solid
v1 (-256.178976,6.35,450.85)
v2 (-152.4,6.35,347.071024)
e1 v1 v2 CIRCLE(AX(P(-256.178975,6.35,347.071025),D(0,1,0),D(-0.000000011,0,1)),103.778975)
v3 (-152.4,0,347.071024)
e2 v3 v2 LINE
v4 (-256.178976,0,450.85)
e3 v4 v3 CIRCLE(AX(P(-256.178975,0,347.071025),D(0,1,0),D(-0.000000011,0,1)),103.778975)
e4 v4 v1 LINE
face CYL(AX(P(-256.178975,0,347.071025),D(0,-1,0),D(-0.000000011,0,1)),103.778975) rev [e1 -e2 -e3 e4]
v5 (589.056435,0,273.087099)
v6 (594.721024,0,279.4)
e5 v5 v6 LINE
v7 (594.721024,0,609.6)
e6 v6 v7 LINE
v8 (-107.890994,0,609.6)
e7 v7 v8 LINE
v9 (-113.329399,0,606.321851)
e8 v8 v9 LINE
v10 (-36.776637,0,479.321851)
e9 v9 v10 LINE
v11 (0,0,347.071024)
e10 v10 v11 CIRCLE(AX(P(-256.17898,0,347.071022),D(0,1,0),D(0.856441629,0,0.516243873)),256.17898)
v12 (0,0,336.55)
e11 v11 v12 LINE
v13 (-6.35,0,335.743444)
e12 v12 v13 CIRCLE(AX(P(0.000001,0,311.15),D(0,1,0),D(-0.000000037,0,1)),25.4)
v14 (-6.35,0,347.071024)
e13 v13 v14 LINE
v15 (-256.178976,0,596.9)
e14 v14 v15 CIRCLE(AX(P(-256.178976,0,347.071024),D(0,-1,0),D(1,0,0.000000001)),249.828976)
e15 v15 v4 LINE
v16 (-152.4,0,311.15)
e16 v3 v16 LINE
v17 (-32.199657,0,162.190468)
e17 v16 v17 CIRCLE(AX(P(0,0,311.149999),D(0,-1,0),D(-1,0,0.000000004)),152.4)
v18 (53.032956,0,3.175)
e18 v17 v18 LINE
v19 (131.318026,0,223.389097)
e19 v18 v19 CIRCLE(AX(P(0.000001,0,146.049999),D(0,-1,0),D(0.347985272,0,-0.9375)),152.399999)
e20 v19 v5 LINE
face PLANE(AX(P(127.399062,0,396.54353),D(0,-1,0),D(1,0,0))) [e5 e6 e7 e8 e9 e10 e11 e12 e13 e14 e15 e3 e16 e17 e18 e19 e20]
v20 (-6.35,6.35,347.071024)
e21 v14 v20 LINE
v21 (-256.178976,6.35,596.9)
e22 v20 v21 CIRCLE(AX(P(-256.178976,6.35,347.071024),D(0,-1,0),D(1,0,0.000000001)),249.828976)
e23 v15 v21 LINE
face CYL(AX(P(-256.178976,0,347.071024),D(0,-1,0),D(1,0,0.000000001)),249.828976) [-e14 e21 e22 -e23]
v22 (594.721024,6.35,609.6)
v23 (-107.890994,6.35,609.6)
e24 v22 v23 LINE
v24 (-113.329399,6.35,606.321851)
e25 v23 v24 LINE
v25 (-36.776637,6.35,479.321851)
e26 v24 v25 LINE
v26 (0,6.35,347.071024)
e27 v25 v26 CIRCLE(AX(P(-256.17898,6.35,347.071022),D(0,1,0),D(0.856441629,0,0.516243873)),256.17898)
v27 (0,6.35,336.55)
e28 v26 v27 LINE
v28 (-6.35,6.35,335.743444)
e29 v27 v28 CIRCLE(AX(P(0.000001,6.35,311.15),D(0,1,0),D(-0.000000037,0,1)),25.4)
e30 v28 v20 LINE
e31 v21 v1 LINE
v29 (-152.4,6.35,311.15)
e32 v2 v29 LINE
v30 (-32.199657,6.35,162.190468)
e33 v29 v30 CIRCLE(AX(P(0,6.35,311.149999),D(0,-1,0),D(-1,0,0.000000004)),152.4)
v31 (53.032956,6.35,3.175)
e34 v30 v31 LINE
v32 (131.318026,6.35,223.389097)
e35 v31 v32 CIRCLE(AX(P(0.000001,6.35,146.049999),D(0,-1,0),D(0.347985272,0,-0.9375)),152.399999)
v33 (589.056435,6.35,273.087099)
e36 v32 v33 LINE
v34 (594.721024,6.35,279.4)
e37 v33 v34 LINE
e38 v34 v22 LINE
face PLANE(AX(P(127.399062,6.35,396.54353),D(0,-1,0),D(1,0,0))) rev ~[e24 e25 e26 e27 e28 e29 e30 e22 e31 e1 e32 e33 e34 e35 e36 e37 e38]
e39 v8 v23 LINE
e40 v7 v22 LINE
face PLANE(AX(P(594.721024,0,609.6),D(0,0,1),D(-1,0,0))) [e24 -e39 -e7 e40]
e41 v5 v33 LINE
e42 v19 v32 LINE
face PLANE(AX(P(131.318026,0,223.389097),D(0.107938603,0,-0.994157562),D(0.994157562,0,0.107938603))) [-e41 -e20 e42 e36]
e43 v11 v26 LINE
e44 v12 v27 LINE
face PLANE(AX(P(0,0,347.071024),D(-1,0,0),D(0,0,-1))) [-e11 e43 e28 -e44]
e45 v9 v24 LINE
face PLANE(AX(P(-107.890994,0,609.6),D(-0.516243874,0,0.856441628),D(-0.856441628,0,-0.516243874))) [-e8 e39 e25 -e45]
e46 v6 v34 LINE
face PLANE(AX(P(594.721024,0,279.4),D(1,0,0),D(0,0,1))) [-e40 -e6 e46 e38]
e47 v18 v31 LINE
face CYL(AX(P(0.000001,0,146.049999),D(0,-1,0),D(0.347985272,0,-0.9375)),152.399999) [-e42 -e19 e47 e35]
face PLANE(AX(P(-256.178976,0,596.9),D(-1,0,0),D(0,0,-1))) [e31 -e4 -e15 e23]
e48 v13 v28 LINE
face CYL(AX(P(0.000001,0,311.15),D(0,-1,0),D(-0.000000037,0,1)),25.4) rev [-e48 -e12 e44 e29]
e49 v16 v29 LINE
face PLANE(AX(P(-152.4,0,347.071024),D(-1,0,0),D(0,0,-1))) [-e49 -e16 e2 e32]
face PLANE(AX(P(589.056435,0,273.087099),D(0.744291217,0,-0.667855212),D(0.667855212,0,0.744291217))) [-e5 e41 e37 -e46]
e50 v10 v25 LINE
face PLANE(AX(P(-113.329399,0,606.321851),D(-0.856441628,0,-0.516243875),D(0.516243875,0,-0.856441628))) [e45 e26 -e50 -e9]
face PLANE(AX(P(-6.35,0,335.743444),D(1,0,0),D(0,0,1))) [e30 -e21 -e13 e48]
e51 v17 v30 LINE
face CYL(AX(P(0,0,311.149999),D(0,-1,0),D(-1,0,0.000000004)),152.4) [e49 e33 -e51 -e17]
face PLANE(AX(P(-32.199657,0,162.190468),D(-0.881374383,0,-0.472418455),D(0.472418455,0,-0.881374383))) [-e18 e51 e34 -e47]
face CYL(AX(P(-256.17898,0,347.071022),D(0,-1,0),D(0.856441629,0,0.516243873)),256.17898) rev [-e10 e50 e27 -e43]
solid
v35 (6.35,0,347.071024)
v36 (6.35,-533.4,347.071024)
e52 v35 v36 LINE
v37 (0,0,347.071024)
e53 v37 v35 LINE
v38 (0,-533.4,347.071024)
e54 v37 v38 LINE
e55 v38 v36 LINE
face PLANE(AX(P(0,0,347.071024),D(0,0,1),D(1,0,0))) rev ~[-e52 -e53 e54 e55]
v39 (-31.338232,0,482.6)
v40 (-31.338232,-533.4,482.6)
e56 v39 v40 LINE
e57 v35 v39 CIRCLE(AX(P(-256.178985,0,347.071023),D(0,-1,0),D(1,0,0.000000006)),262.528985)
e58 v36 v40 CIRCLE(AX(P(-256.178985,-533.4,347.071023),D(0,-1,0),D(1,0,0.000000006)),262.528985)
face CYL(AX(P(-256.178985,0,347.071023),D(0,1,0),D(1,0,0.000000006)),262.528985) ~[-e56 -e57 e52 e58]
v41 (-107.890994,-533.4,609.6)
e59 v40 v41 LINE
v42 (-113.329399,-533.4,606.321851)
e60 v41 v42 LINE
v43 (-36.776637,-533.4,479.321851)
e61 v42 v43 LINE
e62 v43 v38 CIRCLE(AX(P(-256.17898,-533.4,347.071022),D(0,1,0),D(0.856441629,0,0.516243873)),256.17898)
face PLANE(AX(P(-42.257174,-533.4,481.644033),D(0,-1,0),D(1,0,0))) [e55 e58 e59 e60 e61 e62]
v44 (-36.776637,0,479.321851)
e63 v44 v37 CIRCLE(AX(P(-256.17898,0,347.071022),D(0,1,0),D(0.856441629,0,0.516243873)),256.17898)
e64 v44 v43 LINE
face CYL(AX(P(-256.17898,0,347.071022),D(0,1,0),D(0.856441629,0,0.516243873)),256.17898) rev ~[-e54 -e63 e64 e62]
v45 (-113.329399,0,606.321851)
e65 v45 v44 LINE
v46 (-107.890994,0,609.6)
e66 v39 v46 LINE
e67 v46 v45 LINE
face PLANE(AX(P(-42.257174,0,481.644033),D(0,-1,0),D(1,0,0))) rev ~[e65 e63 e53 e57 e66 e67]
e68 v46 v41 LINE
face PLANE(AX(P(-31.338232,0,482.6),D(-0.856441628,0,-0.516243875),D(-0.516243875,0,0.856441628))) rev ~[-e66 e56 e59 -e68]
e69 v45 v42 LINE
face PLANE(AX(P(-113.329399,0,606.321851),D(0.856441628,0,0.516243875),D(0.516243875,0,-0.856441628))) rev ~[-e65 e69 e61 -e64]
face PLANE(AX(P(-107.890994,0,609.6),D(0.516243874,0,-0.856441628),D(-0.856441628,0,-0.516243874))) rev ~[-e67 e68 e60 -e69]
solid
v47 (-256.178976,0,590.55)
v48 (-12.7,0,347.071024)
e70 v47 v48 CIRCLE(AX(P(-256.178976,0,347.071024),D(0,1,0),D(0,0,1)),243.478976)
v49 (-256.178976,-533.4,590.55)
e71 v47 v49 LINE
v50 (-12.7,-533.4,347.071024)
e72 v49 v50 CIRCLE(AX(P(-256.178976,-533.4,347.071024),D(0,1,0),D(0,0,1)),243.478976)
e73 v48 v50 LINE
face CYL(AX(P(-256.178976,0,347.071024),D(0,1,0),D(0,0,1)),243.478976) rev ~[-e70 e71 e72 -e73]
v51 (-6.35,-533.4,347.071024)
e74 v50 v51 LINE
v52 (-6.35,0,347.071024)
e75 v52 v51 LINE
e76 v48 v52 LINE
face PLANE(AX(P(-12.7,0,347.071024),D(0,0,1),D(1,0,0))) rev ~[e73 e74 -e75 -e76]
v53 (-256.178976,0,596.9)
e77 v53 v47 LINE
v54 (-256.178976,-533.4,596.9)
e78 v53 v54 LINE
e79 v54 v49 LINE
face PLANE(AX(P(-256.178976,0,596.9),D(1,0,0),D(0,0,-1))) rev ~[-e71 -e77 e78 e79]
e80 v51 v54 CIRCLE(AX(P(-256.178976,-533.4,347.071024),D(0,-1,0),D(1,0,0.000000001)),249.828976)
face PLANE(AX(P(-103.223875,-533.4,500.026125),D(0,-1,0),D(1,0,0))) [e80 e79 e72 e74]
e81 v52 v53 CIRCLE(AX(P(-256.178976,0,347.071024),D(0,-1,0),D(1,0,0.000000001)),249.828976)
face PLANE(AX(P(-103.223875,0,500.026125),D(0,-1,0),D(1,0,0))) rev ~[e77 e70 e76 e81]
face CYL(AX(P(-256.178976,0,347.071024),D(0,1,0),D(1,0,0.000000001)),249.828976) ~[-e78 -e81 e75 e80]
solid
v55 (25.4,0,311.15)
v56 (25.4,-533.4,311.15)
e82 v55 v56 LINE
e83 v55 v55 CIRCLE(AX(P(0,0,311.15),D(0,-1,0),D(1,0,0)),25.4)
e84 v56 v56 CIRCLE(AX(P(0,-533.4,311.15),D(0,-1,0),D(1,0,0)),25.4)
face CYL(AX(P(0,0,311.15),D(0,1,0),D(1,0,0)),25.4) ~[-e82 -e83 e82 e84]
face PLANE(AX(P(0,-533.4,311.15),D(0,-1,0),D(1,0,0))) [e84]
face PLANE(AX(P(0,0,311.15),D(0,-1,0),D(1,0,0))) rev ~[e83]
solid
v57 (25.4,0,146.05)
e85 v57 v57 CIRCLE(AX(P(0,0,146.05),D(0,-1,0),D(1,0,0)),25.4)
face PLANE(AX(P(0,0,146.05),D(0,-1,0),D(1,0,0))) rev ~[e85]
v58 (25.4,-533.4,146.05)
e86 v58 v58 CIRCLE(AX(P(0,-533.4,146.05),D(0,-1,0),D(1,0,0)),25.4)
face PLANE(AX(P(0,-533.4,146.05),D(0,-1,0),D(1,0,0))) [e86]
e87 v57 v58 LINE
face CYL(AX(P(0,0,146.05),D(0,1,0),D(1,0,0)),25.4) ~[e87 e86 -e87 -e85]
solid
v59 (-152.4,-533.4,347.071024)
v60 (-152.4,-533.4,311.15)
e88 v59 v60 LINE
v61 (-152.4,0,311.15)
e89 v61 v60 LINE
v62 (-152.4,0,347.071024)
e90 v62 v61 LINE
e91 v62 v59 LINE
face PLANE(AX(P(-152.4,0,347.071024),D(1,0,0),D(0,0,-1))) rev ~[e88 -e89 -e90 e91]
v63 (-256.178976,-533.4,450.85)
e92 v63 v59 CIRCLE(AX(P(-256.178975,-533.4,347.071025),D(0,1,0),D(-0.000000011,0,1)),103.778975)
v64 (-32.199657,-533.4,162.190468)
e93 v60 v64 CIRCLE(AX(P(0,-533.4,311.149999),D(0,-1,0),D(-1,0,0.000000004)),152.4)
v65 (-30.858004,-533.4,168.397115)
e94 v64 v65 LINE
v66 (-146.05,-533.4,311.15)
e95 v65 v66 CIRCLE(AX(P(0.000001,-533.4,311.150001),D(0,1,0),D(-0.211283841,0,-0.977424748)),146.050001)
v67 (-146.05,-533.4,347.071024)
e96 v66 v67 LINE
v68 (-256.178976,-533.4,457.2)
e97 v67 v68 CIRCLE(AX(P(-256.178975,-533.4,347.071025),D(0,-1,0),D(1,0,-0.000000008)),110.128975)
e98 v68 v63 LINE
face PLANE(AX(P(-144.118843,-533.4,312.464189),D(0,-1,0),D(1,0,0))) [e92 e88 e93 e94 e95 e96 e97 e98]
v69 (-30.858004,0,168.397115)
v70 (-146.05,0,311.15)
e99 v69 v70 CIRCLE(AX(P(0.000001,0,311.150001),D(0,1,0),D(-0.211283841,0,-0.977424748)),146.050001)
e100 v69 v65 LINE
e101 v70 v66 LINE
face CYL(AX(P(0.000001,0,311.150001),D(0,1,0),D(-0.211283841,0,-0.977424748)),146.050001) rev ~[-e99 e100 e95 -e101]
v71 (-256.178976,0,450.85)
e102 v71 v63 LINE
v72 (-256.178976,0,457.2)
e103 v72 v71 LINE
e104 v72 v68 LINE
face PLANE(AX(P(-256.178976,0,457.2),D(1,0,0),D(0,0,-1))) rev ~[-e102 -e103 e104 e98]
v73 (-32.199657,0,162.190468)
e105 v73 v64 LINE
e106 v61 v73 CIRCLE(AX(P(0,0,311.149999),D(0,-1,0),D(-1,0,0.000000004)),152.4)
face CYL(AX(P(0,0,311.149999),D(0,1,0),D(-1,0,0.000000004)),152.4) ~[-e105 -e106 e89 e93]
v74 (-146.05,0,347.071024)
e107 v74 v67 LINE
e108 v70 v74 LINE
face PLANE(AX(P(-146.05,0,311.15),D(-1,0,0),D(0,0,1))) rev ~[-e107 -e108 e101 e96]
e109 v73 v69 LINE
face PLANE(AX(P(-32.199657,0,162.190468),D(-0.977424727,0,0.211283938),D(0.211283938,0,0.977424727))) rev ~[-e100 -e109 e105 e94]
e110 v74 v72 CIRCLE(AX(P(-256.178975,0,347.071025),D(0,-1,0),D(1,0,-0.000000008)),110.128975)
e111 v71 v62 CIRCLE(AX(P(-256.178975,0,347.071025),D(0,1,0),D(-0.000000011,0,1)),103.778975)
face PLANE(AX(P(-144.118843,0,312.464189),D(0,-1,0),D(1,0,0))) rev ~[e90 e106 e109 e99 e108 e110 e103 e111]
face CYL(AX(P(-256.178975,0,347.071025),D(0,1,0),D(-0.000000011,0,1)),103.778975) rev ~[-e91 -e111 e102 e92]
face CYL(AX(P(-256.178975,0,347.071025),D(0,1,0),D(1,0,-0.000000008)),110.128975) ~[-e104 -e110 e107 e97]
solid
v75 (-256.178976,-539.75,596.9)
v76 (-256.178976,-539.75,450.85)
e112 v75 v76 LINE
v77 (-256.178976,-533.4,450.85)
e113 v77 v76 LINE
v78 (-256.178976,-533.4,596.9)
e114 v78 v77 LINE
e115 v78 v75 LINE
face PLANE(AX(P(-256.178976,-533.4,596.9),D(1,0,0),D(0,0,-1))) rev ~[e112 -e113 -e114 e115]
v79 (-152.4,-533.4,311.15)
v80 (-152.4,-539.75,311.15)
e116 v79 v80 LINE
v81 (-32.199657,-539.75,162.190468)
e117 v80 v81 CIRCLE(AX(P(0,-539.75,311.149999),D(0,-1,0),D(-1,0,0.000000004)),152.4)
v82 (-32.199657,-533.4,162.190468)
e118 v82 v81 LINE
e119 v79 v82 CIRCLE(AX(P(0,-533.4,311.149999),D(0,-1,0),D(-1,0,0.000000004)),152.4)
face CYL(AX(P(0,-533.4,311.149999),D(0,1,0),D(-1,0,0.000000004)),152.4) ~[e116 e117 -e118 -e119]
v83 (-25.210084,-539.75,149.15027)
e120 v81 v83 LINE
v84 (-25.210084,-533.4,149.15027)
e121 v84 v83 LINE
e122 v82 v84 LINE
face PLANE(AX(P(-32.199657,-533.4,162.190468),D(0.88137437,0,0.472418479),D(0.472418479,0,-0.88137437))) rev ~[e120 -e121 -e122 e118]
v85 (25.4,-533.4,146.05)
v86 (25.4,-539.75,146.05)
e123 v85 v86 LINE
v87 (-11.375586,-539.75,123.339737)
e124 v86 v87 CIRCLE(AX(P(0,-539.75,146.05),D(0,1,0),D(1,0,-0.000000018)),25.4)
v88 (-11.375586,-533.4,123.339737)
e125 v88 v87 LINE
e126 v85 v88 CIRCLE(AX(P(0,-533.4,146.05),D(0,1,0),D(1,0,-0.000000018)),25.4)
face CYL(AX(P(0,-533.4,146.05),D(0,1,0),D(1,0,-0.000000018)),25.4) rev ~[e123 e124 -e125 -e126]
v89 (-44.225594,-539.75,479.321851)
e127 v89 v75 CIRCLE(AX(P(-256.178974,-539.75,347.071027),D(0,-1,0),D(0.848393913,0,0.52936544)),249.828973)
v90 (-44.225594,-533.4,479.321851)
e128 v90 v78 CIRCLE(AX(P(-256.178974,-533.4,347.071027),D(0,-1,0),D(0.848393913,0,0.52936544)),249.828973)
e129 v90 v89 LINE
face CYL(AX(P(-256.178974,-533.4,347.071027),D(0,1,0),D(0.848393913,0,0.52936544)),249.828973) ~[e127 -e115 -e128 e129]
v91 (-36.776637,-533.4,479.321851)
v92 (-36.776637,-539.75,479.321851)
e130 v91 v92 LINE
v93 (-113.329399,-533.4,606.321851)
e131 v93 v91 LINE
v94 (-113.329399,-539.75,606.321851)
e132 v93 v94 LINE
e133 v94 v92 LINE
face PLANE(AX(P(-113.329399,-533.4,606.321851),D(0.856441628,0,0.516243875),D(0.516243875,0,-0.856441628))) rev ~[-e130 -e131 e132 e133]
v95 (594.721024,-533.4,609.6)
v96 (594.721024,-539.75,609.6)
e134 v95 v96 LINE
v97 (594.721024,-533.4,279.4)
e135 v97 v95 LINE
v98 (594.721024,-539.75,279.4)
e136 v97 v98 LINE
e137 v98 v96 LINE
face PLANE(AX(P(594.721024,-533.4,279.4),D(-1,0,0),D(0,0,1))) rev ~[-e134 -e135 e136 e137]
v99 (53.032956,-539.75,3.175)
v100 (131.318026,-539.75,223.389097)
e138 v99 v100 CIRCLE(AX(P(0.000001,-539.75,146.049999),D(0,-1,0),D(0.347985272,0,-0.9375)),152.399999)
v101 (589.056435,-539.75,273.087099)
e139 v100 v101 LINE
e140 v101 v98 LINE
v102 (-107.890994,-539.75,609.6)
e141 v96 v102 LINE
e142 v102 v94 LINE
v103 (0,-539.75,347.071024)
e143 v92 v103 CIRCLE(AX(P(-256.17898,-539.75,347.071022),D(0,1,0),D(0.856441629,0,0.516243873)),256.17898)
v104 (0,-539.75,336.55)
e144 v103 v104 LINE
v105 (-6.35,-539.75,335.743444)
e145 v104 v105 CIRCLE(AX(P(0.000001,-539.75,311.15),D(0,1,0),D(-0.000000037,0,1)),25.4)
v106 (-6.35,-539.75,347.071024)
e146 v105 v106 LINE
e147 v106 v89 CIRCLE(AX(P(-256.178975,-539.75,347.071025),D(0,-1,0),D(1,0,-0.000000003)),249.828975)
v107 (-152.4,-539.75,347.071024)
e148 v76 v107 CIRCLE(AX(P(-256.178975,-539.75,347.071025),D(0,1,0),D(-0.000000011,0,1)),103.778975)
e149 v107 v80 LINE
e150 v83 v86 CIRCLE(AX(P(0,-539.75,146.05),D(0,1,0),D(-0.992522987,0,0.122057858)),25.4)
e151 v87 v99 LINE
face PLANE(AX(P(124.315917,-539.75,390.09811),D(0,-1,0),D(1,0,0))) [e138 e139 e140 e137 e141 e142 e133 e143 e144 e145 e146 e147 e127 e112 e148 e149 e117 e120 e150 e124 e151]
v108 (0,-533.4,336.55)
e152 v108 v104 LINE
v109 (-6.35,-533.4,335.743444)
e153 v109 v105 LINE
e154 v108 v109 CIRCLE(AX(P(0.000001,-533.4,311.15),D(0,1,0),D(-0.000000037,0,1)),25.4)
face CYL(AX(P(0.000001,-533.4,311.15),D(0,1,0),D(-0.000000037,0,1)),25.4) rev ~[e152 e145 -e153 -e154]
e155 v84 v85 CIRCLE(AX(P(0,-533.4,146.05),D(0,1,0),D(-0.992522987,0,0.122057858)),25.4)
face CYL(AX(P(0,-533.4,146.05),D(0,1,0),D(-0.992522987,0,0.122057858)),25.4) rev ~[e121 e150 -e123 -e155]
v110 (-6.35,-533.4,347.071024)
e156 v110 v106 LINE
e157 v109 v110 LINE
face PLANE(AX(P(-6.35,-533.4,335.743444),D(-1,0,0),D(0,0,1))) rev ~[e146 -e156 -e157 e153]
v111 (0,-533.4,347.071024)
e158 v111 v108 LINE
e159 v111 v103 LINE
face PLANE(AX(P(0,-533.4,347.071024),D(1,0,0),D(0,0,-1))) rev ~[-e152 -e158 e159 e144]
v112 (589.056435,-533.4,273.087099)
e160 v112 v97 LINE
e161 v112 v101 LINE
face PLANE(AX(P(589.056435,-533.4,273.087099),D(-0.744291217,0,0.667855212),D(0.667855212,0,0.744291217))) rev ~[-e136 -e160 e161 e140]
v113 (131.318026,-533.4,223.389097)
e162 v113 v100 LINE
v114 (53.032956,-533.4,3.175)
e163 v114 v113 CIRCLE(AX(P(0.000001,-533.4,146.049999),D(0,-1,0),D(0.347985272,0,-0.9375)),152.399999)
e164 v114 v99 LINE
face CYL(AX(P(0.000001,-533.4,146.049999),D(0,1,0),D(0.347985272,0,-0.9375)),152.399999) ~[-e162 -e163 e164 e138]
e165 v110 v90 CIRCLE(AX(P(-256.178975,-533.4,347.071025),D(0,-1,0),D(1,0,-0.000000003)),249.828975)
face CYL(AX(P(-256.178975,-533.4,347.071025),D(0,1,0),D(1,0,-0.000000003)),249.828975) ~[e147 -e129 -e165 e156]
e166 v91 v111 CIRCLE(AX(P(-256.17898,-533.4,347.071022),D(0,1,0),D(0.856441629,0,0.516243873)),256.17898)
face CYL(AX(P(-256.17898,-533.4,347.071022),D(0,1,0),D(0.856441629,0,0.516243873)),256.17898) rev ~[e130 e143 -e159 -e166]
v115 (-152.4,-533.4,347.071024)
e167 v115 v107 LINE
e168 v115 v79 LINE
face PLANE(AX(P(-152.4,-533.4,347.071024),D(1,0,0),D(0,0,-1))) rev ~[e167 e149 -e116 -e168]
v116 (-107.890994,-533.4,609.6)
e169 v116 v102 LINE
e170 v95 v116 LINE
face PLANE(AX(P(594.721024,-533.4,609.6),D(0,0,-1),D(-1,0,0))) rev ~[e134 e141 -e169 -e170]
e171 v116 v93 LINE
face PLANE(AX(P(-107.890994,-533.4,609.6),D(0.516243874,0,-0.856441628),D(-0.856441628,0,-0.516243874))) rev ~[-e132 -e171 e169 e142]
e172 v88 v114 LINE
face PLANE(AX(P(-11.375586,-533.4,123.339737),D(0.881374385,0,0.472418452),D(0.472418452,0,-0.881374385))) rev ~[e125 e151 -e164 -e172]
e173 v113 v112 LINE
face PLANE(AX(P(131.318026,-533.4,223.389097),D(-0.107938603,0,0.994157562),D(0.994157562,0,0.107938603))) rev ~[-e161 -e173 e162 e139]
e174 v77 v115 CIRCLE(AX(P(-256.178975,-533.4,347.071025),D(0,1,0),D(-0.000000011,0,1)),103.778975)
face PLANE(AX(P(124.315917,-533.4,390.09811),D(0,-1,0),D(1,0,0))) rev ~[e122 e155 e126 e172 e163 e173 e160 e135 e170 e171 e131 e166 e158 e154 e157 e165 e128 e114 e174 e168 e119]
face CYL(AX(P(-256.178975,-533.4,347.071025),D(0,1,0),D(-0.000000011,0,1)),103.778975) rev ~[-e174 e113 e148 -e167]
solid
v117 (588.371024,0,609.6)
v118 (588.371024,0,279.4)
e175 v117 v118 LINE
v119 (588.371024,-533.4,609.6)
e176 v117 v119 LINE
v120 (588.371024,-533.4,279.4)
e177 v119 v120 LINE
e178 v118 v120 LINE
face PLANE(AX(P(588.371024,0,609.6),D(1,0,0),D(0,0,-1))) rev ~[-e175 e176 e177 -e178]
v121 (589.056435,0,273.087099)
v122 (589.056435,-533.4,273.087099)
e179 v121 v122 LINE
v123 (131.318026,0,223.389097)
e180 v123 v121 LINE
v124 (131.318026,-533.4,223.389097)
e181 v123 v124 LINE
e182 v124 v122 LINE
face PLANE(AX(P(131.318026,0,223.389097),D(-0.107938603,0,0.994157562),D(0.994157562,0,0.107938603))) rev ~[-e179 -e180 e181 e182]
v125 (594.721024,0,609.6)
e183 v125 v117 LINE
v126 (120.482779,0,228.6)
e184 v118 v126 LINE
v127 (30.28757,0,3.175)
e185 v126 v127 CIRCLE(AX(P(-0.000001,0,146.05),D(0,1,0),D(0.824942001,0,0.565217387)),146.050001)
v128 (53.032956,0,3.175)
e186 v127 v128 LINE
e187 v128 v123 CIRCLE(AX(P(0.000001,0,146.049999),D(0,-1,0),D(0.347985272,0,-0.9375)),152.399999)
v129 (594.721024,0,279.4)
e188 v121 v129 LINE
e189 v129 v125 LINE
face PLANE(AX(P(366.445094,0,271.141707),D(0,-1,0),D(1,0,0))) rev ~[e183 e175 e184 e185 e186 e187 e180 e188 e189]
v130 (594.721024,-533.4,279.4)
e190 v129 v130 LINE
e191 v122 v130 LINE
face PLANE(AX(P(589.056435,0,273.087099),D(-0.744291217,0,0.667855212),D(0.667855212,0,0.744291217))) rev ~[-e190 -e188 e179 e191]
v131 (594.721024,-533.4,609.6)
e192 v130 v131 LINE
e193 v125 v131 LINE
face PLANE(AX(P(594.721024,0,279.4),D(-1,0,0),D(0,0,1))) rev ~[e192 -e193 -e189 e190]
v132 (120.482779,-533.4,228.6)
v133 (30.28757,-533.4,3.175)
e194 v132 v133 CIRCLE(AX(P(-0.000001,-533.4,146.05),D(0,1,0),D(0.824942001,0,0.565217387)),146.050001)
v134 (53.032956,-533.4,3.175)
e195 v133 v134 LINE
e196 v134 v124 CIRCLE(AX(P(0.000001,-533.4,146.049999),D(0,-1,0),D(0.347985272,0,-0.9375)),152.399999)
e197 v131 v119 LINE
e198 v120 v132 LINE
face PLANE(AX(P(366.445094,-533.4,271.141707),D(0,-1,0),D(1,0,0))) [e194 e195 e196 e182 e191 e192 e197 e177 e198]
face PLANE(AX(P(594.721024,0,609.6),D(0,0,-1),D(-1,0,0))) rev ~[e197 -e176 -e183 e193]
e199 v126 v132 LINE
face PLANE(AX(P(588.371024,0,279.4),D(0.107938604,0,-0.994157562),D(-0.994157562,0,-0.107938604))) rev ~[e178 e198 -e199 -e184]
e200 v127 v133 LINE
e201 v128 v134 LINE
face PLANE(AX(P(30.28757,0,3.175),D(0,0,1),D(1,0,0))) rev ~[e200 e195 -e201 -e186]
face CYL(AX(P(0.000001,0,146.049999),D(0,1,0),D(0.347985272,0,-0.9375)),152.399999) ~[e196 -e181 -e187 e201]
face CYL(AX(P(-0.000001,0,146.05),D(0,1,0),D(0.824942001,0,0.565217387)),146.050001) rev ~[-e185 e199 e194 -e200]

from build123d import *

# Parameters (mm, degrees)
F0_R     = 25.4
F1_DEPTH = 533.4
F3_DEPTH = 6.35
F5_DEPTH = 6.35


with BuildPart() as f1:
    # F0 (on Front) → F1 (new body)
    with BuildSketch(Plane.XZ):
        with Locations((0, 146.05)):
            Circle(F0_R)
        with BuildLine():
            Line((-32.199657, 162.190468), (-30.858004, 168.397115))
            ThreePointArc((-30.858004, 168.397115), (-113.66049, 219.433614), (-146.05, 311.15))
            Line((-146.05, 311.15), (-146.05, 347.071024))
            ThreePointArc((-146.05, 347.071024), (-178.30603, 424.94397), (-256.178976, 457.2))
            Line((-256.178976, 457.2), (-256.178976, 450.85))
            ThreePointArc((-256.178976, 450.85), (-182.796158, 420.453842), (-152.4, 347.071024))
            Line((-152.4, 347.071024), (-152.4, 311.15))
            ThreePointArc((-152.4, 311.15), (-118.602251, 215.445945), (-32.199657, 162.190468))
        make_face()
        with Locations((0, 311.15)):
            Circle(F0_R)
        with BuildLine():
            Line((-31.338232, 482.6), (-107.890994, 609.6))
            Line((-107.890994, 609.6), (-113.329399, 606.321851))
            Line((-113.329399, 606.321851), (-36.776637, 479.321851))
            ThreePointArc((-36.776637, 479.321851), (-9.365348, 415.705568), (0, 347.071024))
            Line((0, 347.071024), (6.35, 347.071024))
            ThreePointArc((6.35, 347.071024), (-3.24749, 417.406837), (-31.338232, 482.6))
        make_face()
        with BuildLine():
            ThreePointArc((120.482779, 228.6), (135.598791, 91.79532), (30.28757, 3.175))
            Line((30.28757, 3.175), (53.032956, 3.175))
            ThreePointArc((53.032956, 3.175), (143.596251, 95.002211), (131.318026, 223.389097))
            Line((131.318026, 223.389097), (589.056435, 273.087099))
            Line((589.056435, 273.087099), (594.721024, 279.4))
            Line((594.721024, 279.4), (594.721024, 609.6))
            Line((594.721024, 609.6), (588.371024, 609.6))
            Line((588.371024, 609.6), (588.371024, 279.4))
            Line((588.371024, 279.4), (120.482779, 228.6))
        make_face()
        with BuildLine():
            Line((-256.178976, 596.9), (-256.178976, 590.55))
            ThreePointArc((-256.178976, 590.55), (-84.013341, 519.236659), (-12.7, 347.071024))
            Line((-12.7, 347.071024), (-6.35, 347.071024))
            ThreePointArc((-6.35, 347.071024), (-79.523213, 523.726787), (-256.178976, 596.9))
        make_face()
    extrude(amount=F1_DEPTH)


with BuildPart() as f3:
    # F2 (on Front) → F3 (new body)
    with BuildSketch(Plane.XZ):
        with BuildLine():
            Line((-113.329399, 606.321851), (-36.776637, 479.321851))
            ThreePointArc((-36.776637, 479.321851), (-9.365348, 415.705568), (0, 347.071024))
            Line((0, 347.071024), (0, 336.55))
            ThreePointArc((0, 336.55), (3.200509, 285.952446), (-6.35, 335.743444))
            Line((-6.35, 335.743444), (-6.35, 347.071024))
            ThreePointArc((-6.35, 347.071024), (-79.523213, 523.726787), (-256.178976, 596.9))
            Line((-256.178976, 596.9), (-256.178976, 450.85))
            ThreePointArc((-256.178976, 450.85), (-182.796158, 420.453842), (-152.4, 347.071024))
            Line((-152.4, 347.071024), (-152.4, 311.15))
            ThreePointArc((-152.4, 311.15), (-118.602251, 215.445945), (-32.199657, 162.190468))
            Line((-32.199657, 162.190468), (53.032956, 3.175))
            ThreePointArc((53.032956, 3.175), (143.596251, 95.002211), (131.318026, 223.389097))
            Line((131.318026, 223.389097), (589.056435, 273.087099))
            Line((589.056435, 273.087099), (594.721024, 279.4))
            Line((594.721024, 279.4), (594.721024, 609.6))
            Line((594.721024, 609.6), (588.371024, 609.6))
            Line((588.371024, 609.6), (-107.890994, 609.6))
            Line((-107.890994, 609.6), (-113.329399, 606.321851))
        make_face()
    extrude(amount=-F3_DEPTH)


with BuildPart() as f5:
    # F4 (on face) → F5 (new body)
    with BuildSketch(Plane.XZ.offset(533.4)):
        with BuildLine():
            Line((-152.4, 347.071024), (-152.4, 311.15))
            ThreePointArc((-152.4, 311.15), (-118.602251, 215.445945), (-32.199657, 162.190468))
            Line((-32.199657, 162.190468), (-25.210084, 149.15027))
            ThreePointArc((-25.210084, 149.15027), (1.55304, 171.402477), (25.4, 146.05))
            ThreePointArc((25.4, 146.05), (13.345788, 124.438662), (-11.375586, 123.339737))
            Line((-11.375586, 123.339737), (53.032956, 3.175))
            ThreePointArc((53.032956, 3.175), (143.596251, 95.002211), (131.318026, 223.389097))
            Line((131.318026, 223.389097), (589.056435, 273.087099))
            Line((589.056435, 273.087099), (594.721024, 279.4))
            Line((594.721024, 279.4), (594.721024, 609.6))
            Line((594.721024, 609.6), (-107.890994, 609.6))
            Line((-107.890994, 609.6), (-113.329399, 606.321851))
            Line((-113.329399, 606.321851), (-36.776637, 479.321851))
            ThreePointArc((-36.776637, 479.321851), (-9.365348, 415.705568), (0, 347.071024))
            Line((0, 347.071024), (0, 336.55))
            ThreePointArc((0, 336.55), (3.200509, 285.952446), (-6.35, 335.743444))
            Line((-6.35, 335.743444), (-6.35, 347.071024))
            ThreePointArc((-6.35, 347.071024), (-16.005483, 415.85482), (-44.225594, 479.321851))
            ThreePointArc((-44.225594, 479.321851), (-134.988158, 565.536818), (-256.178976, 596.9))
            Line((-256.178976, 596.9), (-256.178976, 450.85))
            ThreePointArc((-256.178976, 450.85), (-182.796158, 420.453842), (-152.4, 347.071024))
        make_face()
    extrude(amount=F5_DEPTH)


solid = Compound([f1.part, f3.part, f5.part])
